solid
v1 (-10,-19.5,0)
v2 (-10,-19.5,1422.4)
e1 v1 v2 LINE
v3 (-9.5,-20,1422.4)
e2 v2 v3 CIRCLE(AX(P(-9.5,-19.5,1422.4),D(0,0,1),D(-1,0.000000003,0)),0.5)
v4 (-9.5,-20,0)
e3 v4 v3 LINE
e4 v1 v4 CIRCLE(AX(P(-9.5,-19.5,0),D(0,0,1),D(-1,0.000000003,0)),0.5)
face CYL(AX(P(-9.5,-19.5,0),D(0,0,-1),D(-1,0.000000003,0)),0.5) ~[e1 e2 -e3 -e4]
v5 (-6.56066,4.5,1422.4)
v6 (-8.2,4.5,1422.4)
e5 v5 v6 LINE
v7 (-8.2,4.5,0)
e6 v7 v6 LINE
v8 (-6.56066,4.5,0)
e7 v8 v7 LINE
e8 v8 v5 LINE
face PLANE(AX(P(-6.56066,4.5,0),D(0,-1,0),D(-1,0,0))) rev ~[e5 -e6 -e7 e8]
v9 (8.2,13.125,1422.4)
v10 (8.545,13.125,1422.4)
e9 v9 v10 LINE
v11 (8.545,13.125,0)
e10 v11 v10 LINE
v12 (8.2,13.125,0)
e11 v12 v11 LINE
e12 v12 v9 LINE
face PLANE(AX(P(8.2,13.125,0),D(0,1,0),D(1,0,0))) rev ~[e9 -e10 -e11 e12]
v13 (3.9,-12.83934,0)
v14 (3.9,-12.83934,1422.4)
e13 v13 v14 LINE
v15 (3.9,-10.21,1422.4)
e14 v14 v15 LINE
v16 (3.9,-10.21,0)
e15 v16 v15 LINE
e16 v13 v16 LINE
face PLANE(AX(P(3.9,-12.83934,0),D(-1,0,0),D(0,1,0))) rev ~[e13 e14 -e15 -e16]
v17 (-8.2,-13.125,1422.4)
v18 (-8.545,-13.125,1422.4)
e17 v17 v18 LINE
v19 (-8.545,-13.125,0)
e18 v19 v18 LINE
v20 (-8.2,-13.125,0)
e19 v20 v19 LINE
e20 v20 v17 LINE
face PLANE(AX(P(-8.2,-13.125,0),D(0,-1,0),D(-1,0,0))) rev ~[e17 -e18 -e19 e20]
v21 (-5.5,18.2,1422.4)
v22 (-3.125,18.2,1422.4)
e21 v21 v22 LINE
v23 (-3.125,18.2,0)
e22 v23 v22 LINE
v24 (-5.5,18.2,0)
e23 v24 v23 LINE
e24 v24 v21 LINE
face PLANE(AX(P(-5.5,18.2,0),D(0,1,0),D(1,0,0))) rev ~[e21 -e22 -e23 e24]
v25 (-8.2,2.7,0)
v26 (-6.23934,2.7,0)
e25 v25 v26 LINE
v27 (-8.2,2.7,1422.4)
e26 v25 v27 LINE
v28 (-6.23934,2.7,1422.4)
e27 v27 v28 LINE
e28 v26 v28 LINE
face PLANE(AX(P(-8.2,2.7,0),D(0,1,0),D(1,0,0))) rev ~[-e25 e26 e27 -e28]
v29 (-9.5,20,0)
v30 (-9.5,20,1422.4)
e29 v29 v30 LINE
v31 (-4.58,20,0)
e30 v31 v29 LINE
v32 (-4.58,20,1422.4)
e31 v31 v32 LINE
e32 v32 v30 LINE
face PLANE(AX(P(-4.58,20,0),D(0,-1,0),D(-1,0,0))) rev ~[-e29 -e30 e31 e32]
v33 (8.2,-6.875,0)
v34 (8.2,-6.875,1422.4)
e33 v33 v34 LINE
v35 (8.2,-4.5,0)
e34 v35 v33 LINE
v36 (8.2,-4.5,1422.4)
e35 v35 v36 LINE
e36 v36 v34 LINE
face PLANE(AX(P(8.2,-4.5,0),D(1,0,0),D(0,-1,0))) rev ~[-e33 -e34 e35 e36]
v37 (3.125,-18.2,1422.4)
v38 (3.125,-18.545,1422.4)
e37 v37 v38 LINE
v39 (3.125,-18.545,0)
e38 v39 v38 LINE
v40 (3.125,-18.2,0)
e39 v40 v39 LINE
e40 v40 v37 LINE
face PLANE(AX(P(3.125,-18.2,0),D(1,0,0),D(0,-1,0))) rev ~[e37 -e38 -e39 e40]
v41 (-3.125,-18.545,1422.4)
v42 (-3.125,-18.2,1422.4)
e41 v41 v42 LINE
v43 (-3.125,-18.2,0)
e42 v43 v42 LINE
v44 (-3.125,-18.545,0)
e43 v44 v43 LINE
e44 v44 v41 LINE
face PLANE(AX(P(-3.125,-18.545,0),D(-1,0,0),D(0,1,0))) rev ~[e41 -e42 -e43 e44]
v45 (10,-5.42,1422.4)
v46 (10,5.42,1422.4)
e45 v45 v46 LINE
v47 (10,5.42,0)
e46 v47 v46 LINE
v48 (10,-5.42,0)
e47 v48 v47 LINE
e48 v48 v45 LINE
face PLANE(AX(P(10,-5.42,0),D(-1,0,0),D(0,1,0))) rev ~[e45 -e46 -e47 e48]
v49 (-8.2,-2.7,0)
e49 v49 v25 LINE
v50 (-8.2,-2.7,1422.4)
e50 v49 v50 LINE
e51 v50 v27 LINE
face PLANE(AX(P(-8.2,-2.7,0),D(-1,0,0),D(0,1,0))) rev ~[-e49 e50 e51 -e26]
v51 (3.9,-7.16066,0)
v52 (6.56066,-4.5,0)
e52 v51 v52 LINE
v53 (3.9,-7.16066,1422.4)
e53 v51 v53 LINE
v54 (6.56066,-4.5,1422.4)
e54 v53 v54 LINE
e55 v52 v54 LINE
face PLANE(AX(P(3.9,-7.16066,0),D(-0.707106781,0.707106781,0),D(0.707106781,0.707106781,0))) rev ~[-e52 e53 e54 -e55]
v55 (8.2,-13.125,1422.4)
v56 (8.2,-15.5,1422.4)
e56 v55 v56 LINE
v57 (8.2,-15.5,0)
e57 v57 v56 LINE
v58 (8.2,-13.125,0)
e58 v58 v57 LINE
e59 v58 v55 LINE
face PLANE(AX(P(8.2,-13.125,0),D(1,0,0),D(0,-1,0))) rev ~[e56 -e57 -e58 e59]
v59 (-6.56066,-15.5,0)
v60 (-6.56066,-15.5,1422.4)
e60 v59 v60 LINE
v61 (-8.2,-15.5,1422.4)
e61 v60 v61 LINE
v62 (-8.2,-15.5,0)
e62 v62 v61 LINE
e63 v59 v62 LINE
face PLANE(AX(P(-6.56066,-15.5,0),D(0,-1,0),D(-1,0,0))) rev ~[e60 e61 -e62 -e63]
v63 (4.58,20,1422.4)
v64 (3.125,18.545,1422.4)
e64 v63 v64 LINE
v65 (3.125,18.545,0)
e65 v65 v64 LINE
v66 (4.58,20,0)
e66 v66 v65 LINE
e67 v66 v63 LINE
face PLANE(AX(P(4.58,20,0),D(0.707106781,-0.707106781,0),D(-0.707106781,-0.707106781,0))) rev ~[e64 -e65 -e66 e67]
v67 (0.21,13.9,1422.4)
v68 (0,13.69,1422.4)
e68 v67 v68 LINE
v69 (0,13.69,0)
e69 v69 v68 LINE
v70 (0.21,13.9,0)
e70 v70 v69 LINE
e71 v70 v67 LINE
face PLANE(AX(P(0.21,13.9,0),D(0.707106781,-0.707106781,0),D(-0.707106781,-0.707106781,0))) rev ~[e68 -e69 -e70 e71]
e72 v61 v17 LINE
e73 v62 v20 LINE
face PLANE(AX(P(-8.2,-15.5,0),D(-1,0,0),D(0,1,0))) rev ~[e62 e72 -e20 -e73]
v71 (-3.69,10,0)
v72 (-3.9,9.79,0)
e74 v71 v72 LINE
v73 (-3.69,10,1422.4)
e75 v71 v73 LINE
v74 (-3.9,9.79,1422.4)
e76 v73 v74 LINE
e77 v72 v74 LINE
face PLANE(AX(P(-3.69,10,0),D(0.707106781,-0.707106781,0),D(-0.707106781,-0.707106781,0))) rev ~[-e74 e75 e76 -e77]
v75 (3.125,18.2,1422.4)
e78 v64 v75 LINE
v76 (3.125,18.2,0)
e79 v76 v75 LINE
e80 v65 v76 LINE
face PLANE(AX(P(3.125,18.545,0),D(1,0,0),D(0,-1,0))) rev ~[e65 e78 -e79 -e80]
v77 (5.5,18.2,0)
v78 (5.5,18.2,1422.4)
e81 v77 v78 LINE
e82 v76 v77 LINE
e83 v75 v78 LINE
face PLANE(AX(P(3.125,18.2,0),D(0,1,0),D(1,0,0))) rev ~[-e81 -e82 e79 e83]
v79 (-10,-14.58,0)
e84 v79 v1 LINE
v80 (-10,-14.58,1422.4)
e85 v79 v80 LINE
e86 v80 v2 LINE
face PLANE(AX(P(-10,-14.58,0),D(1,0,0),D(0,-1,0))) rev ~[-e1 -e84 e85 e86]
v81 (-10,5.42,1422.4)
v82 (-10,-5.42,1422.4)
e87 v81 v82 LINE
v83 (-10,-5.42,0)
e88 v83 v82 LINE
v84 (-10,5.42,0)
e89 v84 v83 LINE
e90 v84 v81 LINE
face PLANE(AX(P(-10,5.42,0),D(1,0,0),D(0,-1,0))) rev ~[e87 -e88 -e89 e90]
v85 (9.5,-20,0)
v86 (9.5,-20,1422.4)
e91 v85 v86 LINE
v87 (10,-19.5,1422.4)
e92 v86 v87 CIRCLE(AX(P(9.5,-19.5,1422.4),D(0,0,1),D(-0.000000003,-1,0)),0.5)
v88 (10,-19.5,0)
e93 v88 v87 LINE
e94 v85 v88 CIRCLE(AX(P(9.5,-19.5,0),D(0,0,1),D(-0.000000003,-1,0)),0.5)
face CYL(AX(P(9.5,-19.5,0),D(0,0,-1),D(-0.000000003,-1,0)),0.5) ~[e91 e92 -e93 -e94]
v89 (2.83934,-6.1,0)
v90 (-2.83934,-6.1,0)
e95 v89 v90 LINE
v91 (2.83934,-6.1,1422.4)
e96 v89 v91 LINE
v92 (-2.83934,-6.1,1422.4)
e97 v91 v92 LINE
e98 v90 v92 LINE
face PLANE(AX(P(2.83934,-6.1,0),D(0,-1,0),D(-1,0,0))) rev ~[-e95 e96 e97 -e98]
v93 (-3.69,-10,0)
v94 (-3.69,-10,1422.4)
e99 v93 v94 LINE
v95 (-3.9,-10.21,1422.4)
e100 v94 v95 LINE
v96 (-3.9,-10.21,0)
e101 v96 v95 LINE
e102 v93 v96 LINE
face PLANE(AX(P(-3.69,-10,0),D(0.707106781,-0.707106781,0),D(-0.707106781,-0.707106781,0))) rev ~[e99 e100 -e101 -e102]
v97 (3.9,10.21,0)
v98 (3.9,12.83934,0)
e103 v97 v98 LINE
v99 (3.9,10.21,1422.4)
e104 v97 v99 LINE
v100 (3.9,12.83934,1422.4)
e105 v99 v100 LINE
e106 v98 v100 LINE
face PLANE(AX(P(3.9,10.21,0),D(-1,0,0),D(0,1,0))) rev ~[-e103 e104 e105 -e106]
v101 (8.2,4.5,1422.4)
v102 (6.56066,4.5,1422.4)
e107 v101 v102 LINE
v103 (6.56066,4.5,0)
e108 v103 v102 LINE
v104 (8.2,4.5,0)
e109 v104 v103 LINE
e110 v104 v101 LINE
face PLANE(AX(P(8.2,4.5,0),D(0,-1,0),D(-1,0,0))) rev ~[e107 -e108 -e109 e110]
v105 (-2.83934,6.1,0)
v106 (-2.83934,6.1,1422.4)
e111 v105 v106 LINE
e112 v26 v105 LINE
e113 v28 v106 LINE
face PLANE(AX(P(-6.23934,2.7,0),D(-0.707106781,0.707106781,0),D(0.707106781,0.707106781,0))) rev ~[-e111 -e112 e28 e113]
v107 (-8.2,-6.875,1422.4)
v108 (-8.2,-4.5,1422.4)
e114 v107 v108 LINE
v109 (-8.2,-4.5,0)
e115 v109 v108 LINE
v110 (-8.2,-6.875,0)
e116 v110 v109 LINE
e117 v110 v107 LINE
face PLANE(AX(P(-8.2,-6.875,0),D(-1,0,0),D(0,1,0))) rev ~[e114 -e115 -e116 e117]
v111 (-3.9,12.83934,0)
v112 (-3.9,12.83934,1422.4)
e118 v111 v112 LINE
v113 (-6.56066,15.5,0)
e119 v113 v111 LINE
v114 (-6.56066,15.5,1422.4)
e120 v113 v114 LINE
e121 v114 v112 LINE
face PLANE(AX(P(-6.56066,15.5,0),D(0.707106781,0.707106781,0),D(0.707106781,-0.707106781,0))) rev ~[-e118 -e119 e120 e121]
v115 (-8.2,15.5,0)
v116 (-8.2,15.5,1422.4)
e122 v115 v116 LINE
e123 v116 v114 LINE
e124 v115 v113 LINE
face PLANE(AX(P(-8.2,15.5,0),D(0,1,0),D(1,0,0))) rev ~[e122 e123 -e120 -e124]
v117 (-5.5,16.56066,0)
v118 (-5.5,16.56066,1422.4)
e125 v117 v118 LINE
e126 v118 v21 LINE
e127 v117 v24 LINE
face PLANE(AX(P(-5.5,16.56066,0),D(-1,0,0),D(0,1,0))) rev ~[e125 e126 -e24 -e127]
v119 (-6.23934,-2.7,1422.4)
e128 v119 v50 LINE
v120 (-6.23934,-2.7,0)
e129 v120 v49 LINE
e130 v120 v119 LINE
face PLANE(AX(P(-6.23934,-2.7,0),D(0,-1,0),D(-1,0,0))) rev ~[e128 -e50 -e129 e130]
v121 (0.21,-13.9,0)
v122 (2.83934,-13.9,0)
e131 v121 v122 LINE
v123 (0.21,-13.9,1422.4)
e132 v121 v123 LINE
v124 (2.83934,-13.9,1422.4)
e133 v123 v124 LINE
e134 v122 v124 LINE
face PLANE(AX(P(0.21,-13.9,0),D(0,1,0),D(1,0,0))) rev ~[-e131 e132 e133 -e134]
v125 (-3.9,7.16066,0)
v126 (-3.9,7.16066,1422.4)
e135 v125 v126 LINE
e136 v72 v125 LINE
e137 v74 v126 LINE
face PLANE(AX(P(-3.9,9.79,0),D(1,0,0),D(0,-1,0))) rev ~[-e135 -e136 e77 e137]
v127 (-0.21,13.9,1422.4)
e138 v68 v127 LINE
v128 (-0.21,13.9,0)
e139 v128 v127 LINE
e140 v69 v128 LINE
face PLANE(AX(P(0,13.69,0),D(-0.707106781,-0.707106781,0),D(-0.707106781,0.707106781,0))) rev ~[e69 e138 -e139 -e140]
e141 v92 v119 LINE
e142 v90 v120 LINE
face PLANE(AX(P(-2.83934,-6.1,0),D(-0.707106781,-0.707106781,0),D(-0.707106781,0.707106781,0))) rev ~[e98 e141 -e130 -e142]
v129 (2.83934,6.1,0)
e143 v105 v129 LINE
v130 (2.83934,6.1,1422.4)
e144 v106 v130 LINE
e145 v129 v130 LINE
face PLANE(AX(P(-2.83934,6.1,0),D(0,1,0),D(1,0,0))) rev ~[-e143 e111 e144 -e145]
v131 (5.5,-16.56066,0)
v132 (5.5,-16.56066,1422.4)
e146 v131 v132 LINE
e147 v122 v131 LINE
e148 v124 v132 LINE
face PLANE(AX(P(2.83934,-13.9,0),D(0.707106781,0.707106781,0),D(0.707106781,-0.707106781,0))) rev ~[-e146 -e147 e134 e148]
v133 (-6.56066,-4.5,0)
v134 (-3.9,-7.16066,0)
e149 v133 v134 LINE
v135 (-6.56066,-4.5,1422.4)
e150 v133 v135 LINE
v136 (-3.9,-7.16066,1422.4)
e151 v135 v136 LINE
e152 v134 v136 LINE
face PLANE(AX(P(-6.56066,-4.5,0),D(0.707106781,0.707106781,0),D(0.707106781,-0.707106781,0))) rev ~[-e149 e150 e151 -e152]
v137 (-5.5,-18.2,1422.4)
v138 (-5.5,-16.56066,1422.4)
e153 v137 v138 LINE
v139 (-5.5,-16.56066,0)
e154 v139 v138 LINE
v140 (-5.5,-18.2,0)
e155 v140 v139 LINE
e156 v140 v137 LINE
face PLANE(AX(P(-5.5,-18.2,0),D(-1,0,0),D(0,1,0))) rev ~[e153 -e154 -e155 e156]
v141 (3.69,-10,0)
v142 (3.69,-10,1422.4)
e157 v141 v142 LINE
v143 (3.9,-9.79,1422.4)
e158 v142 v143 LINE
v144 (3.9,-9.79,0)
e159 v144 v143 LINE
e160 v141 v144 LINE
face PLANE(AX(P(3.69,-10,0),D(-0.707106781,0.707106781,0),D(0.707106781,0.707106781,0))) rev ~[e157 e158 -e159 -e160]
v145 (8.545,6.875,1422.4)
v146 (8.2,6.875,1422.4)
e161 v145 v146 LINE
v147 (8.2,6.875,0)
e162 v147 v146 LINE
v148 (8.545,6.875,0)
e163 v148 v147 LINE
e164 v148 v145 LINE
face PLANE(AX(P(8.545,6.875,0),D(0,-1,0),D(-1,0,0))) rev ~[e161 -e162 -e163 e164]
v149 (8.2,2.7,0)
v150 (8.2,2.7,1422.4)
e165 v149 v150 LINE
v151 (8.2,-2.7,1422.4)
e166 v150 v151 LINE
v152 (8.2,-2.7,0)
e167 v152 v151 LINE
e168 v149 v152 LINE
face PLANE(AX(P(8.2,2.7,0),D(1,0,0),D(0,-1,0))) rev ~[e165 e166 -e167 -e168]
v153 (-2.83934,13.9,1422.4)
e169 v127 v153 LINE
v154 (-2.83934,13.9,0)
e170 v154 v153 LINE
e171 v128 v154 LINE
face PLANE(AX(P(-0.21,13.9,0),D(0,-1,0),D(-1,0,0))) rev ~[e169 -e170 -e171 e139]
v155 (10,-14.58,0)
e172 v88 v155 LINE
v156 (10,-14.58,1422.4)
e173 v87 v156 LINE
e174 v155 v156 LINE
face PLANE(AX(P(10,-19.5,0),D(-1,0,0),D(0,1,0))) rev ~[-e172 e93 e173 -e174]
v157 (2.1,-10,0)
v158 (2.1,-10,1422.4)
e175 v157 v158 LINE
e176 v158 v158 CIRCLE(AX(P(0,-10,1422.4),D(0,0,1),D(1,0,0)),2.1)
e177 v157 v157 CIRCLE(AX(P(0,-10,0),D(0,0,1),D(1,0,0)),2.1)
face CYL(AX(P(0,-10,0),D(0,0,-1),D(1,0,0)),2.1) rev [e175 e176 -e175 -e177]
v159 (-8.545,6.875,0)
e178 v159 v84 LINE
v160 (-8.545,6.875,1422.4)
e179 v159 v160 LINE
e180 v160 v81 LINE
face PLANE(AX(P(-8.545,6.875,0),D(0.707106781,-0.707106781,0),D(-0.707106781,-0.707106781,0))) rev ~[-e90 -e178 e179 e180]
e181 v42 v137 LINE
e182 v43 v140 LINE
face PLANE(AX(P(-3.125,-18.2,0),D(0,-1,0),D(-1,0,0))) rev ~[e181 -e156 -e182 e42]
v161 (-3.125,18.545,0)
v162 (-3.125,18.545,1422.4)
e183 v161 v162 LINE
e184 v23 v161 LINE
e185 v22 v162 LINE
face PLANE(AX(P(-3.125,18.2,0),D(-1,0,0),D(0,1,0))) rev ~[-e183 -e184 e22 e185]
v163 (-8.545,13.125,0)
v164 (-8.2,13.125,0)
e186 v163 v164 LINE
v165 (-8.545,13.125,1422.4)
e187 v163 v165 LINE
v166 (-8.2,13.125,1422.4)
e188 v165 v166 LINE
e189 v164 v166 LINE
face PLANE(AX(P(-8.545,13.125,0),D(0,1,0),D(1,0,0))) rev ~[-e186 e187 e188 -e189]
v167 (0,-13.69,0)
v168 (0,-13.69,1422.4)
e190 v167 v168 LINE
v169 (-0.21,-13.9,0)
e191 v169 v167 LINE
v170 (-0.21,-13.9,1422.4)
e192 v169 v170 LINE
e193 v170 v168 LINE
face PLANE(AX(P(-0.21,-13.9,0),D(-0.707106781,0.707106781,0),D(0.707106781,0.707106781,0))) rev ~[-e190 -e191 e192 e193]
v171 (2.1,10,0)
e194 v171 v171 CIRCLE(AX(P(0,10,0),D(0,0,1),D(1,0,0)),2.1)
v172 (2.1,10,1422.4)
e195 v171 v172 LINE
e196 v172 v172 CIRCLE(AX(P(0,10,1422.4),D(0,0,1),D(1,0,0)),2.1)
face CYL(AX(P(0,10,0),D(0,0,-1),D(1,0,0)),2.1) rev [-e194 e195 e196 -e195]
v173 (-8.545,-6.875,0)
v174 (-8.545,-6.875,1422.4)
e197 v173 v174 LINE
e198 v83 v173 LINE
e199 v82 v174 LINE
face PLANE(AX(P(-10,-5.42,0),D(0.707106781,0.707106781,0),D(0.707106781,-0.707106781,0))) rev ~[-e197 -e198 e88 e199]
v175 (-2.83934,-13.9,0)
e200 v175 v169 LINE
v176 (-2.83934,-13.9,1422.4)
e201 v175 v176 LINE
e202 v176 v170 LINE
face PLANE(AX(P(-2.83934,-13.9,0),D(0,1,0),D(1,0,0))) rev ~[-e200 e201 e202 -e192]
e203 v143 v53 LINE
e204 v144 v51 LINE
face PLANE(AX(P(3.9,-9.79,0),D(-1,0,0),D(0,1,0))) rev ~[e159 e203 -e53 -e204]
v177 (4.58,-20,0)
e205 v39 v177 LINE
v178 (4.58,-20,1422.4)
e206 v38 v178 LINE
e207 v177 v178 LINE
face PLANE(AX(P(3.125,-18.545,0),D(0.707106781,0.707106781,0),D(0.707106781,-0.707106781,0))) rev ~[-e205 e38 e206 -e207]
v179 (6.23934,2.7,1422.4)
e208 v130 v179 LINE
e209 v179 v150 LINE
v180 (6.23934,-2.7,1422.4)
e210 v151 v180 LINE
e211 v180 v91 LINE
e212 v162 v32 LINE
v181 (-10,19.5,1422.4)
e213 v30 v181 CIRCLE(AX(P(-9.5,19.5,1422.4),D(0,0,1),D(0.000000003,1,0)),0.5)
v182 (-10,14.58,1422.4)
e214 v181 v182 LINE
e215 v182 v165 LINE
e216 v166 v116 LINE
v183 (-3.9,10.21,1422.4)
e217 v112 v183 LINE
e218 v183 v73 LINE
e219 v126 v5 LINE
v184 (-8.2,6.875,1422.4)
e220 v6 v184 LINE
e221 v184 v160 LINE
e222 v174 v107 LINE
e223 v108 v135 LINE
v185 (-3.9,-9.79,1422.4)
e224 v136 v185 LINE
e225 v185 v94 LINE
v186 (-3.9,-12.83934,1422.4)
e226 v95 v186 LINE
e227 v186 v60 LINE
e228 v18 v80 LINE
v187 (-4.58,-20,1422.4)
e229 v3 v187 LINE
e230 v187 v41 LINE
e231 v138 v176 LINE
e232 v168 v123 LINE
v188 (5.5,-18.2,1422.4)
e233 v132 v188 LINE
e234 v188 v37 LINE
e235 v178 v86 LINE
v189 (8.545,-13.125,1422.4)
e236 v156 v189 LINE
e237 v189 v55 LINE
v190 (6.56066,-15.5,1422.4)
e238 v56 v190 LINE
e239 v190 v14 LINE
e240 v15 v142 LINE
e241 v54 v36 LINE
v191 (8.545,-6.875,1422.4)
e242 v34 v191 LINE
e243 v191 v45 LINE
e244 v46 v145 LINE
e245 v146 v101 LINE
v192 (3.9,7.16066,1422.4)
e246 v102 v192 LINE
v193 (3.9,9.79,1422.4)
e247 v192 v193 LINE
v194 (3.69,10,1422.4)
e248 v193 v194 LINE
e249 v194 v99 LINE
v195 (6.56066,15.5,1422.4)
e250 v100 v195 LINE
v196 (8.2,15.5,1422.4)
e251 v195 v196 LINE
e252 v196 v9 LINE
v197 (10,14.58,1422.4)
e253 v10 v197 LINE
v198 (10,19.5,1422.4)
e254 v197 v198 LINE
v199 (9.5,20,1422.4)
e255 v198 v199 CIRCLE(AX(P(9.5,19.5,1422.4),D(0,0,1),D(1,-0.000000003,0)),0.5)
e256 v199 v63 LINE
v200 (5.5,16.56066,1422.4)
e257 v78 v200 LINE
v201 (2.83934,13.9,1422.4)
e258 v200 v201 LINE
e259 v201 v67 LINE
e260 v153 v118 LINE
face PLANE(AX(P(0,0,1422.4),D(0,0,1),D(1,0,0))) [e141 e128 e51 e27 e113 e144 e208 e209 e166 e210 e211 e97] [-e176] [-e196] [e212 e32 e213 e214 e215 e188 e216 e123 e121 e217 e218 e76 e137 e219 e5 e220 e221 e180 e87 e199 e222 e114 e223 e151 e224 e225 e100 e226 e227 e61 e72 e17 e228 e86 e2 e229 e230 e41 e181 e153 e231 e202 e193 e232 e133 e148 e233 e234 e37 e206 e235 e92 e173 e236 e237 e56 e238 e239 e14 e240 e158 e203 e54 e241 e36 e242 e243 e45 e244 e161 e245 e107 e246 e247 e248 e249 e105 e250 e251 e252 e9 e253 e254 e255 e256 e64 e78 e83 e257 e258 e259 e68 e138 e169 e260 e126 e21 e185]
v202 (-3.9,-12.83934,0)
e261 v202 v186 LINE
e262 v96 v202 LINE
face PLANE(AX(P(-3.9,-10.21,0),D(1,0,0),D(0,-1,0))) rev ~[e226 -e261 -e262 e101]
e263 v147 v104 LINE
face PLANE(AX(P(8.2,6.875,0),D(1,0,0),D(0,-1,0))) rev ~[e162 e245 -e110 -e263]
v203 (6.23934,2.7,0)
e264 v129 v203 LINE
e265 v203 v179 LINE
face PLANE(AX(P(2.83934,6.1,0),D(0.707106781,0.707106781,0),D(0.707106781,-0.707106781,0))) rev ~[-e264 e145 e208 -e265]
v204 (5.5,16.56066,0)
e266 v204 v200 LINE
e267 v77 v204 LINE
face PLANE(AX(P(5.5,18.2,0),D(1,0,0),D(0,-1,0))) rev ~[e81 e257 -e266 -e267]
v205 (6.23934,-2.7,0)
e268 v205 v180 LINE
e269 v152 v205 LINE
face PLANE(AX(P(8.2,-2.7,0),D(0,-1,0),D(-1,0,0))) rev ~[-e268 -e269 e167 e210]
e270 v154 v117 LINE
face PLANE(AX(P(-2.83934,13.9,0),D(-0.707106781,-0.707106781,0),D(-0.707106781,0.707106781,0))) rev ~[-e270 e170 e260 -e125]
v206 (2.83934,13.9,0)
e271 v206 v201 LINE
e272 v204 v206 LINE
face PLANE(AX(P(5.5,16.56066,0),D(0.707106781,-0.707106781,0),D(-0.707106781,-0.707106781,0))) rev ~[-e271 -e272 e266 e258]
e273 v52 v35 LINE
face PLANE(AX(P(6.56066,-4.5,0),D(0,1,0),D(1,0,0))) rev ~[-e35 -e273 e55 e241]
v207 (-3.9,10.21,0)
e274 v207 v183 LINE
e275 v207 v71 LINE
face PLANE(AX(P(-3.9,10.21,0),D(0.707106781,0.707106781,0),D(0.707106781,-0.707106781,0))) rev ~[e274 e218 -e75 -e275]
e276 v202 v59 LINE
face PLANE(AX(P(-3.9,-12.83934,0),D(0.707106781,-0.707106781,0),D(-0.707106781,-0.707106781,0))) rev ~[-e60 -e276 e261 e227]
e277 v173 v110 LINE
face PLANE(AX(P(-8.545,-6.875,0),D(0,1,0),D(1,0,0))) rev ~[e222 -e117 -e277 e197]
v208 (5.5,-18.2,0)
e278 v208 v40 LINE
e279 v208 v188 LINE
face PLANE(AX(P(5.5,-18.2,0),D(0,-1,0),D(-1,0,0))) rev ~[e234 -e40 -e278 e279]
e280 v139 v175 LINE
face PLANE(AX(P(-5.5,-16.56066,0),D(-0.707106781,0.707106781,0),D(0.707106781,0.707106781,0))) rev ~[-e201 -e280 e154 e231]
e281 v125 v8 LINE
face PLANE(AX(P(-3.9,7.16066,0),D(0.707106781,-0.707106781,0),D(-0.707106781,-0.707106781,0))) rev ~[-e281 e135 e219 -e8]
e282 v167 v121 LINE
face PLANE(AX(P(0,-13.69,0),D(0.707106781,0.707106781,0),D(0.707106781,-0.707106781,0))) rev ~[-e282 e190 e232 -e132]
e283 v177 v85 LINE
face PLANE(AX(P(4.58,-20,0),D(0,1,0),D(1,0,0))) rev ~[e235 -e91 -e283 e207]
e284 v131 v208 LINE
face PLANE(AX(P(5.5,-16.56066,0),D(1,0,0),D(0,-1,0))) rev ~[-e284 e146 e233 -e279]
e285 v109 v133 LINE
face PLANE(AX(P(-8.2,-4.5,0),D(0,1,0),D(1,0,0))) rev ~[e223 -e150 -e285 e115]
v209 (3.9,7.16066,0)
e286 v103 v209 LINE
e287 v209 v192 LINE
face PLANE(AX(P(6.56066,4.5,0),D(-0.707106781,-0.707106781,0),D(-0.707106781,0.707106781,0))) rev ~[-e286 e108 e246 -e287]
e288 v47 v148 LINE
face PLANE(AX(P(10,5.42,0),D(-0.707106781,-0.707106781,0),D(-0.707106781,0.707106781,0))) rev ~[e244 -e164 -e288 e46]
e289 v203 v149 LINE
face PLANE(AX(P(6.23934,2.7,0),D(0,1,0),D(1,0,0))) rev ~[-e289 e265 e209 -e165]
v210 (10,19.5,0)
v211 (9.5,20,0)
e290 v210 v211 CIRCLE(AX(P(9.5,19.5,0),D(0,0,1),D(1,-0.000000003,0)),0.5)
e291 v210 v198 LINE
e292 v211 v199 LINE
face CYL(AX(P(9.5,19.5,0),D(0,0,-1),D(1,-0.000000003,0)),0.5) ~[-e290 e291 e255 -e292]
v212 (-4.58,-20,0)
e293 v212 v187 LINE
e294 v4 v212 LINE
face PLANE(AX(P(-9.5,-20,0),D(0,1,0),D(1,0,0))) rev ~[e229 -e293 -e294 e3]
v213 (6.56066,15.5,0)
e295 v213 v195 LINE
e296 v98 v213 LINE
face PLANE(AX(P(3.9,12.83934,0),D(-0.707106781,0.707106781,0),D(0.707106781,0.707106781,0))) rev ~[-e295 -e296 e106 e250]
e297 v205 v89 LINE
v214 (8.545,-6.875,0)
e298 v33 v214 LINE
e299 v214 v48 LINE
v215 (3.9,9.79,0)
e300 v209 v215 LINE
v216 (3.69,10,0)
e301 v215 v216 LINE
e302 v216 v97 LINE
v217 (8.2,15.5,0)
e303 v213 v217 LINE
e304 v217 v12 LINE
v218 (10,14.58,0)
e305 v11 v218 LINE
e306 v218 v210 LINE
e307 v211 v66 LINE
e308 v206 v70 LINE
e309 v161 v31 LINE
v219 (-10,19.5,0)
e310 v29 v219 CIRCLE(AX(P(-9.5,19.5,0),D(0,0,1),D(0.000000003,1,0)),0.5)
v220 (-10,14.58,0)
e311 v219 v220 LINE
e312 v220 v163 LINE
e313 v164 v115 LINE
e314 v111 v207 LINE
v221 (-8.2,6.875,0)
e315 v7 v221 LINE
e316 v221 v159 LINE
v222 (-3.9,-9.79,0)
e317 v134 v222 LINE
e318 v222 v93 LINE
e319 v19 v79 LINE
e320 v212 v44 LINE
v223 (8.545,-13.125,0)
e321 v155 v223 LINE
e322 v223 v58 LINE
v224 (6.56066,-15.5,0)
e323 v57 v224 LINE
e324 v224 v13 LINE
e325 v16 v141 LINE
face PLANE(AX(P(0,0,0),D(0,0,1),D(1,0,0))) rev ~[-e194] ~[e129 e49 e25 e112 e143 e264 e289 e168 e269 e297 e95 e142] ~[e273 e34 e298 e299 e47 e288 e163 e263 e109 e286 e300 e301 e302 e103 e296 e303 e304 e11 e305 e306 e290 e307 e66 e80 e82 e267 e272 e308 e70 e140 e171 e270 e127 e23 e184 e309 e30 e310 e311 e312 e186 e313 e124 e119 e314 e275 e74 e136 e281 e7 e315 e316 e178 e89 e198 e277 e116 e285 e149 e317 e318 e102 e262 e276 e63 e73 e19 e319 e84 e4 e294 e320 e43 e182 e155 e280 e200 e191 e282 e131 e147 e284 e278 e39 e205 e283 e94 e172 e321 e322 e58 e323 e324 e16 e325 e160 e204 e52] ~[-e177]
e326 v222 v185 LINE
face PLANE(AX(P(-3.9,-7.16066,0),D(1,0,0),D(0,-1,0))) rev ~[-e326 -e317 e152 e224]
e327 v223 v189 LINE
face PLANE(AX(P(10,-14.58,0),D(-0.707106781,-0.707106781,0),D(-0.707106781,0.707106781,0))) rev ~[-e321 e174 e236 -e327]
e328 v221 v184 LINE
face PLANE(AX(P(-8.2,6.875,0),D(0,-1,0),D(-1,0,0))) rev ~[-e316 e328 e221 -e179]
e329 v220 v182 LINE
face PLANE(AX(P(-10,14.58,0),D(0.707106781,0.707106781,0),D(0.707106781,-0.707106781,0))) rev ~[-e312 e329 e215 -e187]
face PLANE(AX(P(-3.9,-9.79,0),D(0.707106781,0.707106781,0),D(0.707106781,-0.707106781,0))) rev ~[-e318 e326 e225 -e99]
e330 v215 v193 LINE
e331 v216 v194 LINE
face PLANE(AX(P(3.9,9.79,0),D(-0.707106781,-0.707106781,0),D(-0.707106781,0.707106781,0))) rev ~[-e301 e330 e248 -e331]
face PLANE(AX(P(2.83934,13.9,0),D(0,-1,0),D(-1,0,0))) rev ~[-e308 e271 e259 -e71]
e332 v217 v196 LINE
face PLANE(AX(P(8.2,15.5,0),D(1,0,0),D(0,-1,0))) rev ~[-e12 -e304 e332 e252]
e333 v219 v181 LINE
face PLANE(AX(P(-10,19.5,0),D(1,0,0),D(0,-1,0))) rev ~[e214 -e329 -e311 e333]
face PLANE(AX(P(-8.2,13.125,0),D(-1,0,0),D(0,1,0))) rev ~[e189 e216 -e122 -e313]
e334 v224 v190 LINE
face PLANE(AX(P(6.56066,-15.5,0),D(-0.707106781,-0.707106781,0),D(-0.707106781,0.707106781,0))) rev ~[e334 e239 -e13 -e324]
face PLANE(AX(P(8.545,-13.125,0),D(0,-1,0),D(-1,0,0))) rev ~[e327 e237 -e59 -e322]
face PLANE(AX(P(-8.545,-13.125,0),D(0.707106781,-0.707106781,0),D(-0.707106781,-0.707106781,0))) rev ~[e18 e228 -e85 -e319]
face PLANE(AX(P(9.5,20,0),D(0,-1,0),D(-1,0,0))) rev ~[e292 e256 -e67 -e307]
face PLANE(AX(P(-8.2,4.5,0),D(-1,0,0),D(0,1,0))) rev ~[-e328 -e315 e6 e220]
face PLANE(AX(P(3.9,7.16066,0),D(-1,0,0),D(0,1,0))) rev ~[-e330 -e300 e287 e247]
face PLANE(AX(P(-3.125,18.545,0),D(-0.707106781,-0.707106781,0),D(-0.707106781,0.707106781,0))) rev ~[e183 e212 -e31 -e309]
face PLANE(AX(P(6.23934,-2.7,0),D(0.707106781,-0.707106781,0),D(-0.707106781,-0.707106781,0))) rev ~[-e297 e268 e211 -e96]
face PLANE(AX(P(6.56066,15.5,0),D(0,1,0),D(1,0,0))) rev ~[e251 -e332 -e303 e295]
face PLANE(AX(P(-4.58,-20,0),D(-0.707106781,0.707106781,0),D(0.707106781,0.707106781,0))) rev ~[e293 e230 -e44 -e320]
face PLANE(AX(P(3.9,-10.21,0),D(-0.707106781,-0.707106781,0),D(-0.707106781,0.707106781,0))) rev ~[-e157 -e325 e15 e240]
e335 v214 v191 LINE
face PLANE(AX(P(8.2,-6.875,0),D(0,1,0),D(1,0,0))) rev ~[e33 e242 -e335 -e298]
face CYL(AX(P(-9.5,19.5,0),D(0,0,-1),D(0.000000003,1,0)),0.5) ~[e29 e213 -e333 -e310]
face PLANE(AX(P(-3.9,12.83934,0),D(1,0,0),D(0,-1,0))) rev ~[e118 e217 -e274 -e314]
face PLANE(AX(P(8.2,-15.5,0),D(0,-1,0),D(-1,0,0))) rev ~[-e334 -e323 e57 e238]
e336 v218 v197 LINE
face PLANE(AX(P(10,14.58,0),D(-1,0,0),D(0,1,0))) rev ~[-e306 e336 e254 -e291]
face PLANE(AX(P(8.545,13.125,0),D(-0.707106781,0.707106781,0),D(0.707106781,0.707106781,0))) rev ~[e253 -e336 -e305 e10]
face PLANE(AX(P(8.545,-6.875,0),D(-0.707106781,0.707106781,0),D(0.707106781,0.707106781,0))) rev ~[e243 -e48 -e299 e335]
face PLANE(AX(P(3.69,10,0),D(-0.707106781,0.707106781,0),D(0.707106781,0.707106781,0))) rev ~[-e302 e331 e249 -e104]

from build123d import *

# Parameters (mm, degrees)
SKETCH1_R           = 2.1
BOSS_EXTRUDE1_DEPTH = 1422.4


with BuildPart() as part:
    # Sketch1 → Boss-Extrude1 (new body)
    with BuildSketch(Plane.XY):
        with BuildLine():
            Line((4.58, -20), (9.5, -20))
            ThreePointArc((9.5, -20), (9.853553391, -19.853553391), (10, -19.5))
            Line((10, -19.5), (10, -14.58))
            Line((10, -14.58), (8.545, -13.125))
            Line((8.545, -13.125), (8.2, -13.125))
            Line((8.2, -13.125), (8.2, -15.5))
            Line((8.2, -15.5), (6.560660172, -15.5))
            Line((6.560660172, -15.5), (3.9, -12.839339828))
            Line((3.9, -12.839339828), (3.9, -10.21))
            Line((3.9, -10.21), (3.69, -10))
            Line((3.69, -10), (3.9, -9.79))
            Line((3.9, -9.79), (3.9, -7.160660172))
            Line((3.9, -7.160660172), (6.560660172, -4.5))
            Line((6.560660172, -4.5), (8.2, -4.5))
            Line((8.2, -4.5), (8.2, -6.875))
            Line((8.2, -6.875), (8.545, -6.875))
            Line((8.545, -6.875), (10, -5.42))
            Line((10, -5.42), (10, 5.42))
            Line((10, 5.42), (8.545, 6.875))
            Line((8.545, 6.875), (8.2, 6.875))
            Line((8.2, 6.875), (8.2, 4.5))
            Line((8.2, 4.5), (6.560660172, 4.5))
            Line((6.560660172, 4.5), (3.9, 7.160660172))
            Line((3.9, 7.160660172), (3.9, 9.79))
            Line((3.9, 9.79), (3.69, 10))
            Line((3.69, 10), (3.9, 10.21))
            Line((3.9, 10.21), (3.9, 12.839339828))
            Line((3.9, 12.839339828), (6.560660172, 15.5))
            Line((6.560660172, 15.5), (8.2, 15.5))
            Line((8.2, 15.5), (8.2, 13.125))
            Line((8.2, 13.125), (8.545, 13.125))
            Line((8.545, 13.125), (10, 14.58))
            Line((10, 14.58), (10, 19.5))
            ThreePointArc((10, 19.5), (9.853553391, 19.853553391), (9.5, 20))
            Line((9.5, 20), (4.58, 20))
            Line((4.58, 20), (3.125, 18.545))
            Line((3.125, 18.545), (3.125, 18.2))
            Line((3.125, 18.2), (5.5, 18.2))
            Line((5.5, 18.2), (5.5, 16.560660172))
            Line((5.5, 16.560660172), (2.839339828, 13.9))
            Line((2.839339828, 13.9), (0.21, 13.9))
            Line((0.21, 13.9), (0, 13.69))
            Line((0, 13.69), (-0.21, 13.9))
            Line((-0.21, 13.9), (-2.839339828, 13.9))
            Line((-2.839339828, 13.9), (-5.5, 16.560660172))
            Line((-5.5, 16.560660172), (-5.5, 18.2))
            Line((-5.5, 18.2), (-3.125, 18.2))
            Line((-3.125, 18.2), (-3.125, 18.545))
            Line((-3.125, 18.545), (-4.58, 20))
            Line((-4.58, 20), (-9.5, 20))
            ThreePointArc((-9.5, 20), (-9.853553391, 19.853553391), (-10, 19.5))
            Line((-10, 19.5), (-10, 14.58))
            Line((-10, 14.58), (-8.545, 13.125))
            Line((-8.545, 13.125), (-8.2, 13.125))
            Line((-8.2, 13.125), (-8.2, 15.5))
            Line((-8.2, 15.5), (-6.560660172, 15.5))
            Line((-6.560660172, 15.5), (-3.9, 12.839339828))
            Line((-3.9, 12.839339828), (-3.9, 10.21))
            Line((-3.9, 10.21), (-3.69, 10))
            Line((-3.69, 10), (-3.9, 9.79))
            Line((-3.9, 9.79), (-3.9, 7.160660172))
            Line((-3.9, 7.160660172), (-6.560660172, 4.5))
            Line((-6.560660172, 4.5), (-8.2, 4.5))
            Line((-8.2, 4.5), (-8.2, 6.875))
            Line((-8.2, 6.875), (-8.545, 6.875))
            Line((-8.545, 6.875), (-10, 5.42))
            Line((-10, 5.42), (-10, -5.42))
            Line((-10, -5.42), (-8.545, -6.875))
            Line((-8.545, -6.875), (-8.2, -6.875))
            Line((-8.2, -6.875), (-8.2, -4.5))
            Line((-8.2, -4.5), (-6.560660172, -4.5))
            Line((-6.560660172, -4.5), (-3.9, -7.160660172))
            Line((-3.9, -7.160660172), (-3.9, -9.79))
            Line((-3.9, -9.79), (-3.69, -10))
            Line((-3.69, -10), (-3.9, -10.21))
            Line((-3.9, -10.21), (-3.9, -12.839339828))
            Line((-3.9, -12.839339828), (-6.560660172, -15.5))
            Line((-6.560660172, -15.5), (-8.2, -15.5))
            Line((-8.2, -15.5), (-8.2, -13.125))
            Line((-8.2, -13.125), (-8.545, -13.125))
            Line((-8.545, -13.125), (-10, -14.58))
            Line((-10, -14.58), (-10, -19.5))
            ThreePointArc((-10, -19.5), (-9.853553391, -19.853553391), (-9.5, -20))
            Line((-9.5, -20), (-4.58, -20))
            Line((-4.58, -20), (-3.125, -18.545))
            Line((-3.125, -18.545), (-3.125, -18.2))
            Line((-3.125, -18.2), (-5.5, -18.2))
            Line((-5.5, -18.2), (-5.5, -16.560660172))
            Line((-5.5, -16.560660172), (-2.839339828, -13.9))
            Line((-2.839339828, -13.9), (-0.21, -13.9))
            Line((-0.21, -13.9), (0, -13.69))
            Line((0, -13.69), (0.21, -13.9))
            Line((0.21, -13.9), (2.839339828, -13.9))
            Line((2.839339828, -13.9), (5.5, -16.560660172))
            Line((5.5, -16.560660172), (5.5, -18.2))
            Line((5.5, -18.2), (3.125, -18.2))
            Line((3.125, -18.2), (3.125, -18.545))
            Line((3.125, -18.545), (4.58, -20))
        make_face()
        with Locations((0, -10)):
            Circle(SKETCH1_R, mode=Mode.SUBTRACT)
        Polygon((-6.239339828, -2.7), (-8.2, -2.7), (-8.2, 2.7), (-6.239339828, 2.7), (-2.839339828, 6.1), (2.839339828, 6.1), (6.239339828, 2.7), (8.2, 2.7), (8.2, -2.7), (6.239339828, -2.7), (2.839339828, -6.1), (-2.839339828, -6.1), align=None, mode=Mode.SUBTRACT)
        with Locations((0, 10)):
            Circle(SKETCH1_R, mode=Mode.SUBTRACT)
    extrude(amount=BOSS_EXTRUDE1_DEPTH)


solid = part.part
